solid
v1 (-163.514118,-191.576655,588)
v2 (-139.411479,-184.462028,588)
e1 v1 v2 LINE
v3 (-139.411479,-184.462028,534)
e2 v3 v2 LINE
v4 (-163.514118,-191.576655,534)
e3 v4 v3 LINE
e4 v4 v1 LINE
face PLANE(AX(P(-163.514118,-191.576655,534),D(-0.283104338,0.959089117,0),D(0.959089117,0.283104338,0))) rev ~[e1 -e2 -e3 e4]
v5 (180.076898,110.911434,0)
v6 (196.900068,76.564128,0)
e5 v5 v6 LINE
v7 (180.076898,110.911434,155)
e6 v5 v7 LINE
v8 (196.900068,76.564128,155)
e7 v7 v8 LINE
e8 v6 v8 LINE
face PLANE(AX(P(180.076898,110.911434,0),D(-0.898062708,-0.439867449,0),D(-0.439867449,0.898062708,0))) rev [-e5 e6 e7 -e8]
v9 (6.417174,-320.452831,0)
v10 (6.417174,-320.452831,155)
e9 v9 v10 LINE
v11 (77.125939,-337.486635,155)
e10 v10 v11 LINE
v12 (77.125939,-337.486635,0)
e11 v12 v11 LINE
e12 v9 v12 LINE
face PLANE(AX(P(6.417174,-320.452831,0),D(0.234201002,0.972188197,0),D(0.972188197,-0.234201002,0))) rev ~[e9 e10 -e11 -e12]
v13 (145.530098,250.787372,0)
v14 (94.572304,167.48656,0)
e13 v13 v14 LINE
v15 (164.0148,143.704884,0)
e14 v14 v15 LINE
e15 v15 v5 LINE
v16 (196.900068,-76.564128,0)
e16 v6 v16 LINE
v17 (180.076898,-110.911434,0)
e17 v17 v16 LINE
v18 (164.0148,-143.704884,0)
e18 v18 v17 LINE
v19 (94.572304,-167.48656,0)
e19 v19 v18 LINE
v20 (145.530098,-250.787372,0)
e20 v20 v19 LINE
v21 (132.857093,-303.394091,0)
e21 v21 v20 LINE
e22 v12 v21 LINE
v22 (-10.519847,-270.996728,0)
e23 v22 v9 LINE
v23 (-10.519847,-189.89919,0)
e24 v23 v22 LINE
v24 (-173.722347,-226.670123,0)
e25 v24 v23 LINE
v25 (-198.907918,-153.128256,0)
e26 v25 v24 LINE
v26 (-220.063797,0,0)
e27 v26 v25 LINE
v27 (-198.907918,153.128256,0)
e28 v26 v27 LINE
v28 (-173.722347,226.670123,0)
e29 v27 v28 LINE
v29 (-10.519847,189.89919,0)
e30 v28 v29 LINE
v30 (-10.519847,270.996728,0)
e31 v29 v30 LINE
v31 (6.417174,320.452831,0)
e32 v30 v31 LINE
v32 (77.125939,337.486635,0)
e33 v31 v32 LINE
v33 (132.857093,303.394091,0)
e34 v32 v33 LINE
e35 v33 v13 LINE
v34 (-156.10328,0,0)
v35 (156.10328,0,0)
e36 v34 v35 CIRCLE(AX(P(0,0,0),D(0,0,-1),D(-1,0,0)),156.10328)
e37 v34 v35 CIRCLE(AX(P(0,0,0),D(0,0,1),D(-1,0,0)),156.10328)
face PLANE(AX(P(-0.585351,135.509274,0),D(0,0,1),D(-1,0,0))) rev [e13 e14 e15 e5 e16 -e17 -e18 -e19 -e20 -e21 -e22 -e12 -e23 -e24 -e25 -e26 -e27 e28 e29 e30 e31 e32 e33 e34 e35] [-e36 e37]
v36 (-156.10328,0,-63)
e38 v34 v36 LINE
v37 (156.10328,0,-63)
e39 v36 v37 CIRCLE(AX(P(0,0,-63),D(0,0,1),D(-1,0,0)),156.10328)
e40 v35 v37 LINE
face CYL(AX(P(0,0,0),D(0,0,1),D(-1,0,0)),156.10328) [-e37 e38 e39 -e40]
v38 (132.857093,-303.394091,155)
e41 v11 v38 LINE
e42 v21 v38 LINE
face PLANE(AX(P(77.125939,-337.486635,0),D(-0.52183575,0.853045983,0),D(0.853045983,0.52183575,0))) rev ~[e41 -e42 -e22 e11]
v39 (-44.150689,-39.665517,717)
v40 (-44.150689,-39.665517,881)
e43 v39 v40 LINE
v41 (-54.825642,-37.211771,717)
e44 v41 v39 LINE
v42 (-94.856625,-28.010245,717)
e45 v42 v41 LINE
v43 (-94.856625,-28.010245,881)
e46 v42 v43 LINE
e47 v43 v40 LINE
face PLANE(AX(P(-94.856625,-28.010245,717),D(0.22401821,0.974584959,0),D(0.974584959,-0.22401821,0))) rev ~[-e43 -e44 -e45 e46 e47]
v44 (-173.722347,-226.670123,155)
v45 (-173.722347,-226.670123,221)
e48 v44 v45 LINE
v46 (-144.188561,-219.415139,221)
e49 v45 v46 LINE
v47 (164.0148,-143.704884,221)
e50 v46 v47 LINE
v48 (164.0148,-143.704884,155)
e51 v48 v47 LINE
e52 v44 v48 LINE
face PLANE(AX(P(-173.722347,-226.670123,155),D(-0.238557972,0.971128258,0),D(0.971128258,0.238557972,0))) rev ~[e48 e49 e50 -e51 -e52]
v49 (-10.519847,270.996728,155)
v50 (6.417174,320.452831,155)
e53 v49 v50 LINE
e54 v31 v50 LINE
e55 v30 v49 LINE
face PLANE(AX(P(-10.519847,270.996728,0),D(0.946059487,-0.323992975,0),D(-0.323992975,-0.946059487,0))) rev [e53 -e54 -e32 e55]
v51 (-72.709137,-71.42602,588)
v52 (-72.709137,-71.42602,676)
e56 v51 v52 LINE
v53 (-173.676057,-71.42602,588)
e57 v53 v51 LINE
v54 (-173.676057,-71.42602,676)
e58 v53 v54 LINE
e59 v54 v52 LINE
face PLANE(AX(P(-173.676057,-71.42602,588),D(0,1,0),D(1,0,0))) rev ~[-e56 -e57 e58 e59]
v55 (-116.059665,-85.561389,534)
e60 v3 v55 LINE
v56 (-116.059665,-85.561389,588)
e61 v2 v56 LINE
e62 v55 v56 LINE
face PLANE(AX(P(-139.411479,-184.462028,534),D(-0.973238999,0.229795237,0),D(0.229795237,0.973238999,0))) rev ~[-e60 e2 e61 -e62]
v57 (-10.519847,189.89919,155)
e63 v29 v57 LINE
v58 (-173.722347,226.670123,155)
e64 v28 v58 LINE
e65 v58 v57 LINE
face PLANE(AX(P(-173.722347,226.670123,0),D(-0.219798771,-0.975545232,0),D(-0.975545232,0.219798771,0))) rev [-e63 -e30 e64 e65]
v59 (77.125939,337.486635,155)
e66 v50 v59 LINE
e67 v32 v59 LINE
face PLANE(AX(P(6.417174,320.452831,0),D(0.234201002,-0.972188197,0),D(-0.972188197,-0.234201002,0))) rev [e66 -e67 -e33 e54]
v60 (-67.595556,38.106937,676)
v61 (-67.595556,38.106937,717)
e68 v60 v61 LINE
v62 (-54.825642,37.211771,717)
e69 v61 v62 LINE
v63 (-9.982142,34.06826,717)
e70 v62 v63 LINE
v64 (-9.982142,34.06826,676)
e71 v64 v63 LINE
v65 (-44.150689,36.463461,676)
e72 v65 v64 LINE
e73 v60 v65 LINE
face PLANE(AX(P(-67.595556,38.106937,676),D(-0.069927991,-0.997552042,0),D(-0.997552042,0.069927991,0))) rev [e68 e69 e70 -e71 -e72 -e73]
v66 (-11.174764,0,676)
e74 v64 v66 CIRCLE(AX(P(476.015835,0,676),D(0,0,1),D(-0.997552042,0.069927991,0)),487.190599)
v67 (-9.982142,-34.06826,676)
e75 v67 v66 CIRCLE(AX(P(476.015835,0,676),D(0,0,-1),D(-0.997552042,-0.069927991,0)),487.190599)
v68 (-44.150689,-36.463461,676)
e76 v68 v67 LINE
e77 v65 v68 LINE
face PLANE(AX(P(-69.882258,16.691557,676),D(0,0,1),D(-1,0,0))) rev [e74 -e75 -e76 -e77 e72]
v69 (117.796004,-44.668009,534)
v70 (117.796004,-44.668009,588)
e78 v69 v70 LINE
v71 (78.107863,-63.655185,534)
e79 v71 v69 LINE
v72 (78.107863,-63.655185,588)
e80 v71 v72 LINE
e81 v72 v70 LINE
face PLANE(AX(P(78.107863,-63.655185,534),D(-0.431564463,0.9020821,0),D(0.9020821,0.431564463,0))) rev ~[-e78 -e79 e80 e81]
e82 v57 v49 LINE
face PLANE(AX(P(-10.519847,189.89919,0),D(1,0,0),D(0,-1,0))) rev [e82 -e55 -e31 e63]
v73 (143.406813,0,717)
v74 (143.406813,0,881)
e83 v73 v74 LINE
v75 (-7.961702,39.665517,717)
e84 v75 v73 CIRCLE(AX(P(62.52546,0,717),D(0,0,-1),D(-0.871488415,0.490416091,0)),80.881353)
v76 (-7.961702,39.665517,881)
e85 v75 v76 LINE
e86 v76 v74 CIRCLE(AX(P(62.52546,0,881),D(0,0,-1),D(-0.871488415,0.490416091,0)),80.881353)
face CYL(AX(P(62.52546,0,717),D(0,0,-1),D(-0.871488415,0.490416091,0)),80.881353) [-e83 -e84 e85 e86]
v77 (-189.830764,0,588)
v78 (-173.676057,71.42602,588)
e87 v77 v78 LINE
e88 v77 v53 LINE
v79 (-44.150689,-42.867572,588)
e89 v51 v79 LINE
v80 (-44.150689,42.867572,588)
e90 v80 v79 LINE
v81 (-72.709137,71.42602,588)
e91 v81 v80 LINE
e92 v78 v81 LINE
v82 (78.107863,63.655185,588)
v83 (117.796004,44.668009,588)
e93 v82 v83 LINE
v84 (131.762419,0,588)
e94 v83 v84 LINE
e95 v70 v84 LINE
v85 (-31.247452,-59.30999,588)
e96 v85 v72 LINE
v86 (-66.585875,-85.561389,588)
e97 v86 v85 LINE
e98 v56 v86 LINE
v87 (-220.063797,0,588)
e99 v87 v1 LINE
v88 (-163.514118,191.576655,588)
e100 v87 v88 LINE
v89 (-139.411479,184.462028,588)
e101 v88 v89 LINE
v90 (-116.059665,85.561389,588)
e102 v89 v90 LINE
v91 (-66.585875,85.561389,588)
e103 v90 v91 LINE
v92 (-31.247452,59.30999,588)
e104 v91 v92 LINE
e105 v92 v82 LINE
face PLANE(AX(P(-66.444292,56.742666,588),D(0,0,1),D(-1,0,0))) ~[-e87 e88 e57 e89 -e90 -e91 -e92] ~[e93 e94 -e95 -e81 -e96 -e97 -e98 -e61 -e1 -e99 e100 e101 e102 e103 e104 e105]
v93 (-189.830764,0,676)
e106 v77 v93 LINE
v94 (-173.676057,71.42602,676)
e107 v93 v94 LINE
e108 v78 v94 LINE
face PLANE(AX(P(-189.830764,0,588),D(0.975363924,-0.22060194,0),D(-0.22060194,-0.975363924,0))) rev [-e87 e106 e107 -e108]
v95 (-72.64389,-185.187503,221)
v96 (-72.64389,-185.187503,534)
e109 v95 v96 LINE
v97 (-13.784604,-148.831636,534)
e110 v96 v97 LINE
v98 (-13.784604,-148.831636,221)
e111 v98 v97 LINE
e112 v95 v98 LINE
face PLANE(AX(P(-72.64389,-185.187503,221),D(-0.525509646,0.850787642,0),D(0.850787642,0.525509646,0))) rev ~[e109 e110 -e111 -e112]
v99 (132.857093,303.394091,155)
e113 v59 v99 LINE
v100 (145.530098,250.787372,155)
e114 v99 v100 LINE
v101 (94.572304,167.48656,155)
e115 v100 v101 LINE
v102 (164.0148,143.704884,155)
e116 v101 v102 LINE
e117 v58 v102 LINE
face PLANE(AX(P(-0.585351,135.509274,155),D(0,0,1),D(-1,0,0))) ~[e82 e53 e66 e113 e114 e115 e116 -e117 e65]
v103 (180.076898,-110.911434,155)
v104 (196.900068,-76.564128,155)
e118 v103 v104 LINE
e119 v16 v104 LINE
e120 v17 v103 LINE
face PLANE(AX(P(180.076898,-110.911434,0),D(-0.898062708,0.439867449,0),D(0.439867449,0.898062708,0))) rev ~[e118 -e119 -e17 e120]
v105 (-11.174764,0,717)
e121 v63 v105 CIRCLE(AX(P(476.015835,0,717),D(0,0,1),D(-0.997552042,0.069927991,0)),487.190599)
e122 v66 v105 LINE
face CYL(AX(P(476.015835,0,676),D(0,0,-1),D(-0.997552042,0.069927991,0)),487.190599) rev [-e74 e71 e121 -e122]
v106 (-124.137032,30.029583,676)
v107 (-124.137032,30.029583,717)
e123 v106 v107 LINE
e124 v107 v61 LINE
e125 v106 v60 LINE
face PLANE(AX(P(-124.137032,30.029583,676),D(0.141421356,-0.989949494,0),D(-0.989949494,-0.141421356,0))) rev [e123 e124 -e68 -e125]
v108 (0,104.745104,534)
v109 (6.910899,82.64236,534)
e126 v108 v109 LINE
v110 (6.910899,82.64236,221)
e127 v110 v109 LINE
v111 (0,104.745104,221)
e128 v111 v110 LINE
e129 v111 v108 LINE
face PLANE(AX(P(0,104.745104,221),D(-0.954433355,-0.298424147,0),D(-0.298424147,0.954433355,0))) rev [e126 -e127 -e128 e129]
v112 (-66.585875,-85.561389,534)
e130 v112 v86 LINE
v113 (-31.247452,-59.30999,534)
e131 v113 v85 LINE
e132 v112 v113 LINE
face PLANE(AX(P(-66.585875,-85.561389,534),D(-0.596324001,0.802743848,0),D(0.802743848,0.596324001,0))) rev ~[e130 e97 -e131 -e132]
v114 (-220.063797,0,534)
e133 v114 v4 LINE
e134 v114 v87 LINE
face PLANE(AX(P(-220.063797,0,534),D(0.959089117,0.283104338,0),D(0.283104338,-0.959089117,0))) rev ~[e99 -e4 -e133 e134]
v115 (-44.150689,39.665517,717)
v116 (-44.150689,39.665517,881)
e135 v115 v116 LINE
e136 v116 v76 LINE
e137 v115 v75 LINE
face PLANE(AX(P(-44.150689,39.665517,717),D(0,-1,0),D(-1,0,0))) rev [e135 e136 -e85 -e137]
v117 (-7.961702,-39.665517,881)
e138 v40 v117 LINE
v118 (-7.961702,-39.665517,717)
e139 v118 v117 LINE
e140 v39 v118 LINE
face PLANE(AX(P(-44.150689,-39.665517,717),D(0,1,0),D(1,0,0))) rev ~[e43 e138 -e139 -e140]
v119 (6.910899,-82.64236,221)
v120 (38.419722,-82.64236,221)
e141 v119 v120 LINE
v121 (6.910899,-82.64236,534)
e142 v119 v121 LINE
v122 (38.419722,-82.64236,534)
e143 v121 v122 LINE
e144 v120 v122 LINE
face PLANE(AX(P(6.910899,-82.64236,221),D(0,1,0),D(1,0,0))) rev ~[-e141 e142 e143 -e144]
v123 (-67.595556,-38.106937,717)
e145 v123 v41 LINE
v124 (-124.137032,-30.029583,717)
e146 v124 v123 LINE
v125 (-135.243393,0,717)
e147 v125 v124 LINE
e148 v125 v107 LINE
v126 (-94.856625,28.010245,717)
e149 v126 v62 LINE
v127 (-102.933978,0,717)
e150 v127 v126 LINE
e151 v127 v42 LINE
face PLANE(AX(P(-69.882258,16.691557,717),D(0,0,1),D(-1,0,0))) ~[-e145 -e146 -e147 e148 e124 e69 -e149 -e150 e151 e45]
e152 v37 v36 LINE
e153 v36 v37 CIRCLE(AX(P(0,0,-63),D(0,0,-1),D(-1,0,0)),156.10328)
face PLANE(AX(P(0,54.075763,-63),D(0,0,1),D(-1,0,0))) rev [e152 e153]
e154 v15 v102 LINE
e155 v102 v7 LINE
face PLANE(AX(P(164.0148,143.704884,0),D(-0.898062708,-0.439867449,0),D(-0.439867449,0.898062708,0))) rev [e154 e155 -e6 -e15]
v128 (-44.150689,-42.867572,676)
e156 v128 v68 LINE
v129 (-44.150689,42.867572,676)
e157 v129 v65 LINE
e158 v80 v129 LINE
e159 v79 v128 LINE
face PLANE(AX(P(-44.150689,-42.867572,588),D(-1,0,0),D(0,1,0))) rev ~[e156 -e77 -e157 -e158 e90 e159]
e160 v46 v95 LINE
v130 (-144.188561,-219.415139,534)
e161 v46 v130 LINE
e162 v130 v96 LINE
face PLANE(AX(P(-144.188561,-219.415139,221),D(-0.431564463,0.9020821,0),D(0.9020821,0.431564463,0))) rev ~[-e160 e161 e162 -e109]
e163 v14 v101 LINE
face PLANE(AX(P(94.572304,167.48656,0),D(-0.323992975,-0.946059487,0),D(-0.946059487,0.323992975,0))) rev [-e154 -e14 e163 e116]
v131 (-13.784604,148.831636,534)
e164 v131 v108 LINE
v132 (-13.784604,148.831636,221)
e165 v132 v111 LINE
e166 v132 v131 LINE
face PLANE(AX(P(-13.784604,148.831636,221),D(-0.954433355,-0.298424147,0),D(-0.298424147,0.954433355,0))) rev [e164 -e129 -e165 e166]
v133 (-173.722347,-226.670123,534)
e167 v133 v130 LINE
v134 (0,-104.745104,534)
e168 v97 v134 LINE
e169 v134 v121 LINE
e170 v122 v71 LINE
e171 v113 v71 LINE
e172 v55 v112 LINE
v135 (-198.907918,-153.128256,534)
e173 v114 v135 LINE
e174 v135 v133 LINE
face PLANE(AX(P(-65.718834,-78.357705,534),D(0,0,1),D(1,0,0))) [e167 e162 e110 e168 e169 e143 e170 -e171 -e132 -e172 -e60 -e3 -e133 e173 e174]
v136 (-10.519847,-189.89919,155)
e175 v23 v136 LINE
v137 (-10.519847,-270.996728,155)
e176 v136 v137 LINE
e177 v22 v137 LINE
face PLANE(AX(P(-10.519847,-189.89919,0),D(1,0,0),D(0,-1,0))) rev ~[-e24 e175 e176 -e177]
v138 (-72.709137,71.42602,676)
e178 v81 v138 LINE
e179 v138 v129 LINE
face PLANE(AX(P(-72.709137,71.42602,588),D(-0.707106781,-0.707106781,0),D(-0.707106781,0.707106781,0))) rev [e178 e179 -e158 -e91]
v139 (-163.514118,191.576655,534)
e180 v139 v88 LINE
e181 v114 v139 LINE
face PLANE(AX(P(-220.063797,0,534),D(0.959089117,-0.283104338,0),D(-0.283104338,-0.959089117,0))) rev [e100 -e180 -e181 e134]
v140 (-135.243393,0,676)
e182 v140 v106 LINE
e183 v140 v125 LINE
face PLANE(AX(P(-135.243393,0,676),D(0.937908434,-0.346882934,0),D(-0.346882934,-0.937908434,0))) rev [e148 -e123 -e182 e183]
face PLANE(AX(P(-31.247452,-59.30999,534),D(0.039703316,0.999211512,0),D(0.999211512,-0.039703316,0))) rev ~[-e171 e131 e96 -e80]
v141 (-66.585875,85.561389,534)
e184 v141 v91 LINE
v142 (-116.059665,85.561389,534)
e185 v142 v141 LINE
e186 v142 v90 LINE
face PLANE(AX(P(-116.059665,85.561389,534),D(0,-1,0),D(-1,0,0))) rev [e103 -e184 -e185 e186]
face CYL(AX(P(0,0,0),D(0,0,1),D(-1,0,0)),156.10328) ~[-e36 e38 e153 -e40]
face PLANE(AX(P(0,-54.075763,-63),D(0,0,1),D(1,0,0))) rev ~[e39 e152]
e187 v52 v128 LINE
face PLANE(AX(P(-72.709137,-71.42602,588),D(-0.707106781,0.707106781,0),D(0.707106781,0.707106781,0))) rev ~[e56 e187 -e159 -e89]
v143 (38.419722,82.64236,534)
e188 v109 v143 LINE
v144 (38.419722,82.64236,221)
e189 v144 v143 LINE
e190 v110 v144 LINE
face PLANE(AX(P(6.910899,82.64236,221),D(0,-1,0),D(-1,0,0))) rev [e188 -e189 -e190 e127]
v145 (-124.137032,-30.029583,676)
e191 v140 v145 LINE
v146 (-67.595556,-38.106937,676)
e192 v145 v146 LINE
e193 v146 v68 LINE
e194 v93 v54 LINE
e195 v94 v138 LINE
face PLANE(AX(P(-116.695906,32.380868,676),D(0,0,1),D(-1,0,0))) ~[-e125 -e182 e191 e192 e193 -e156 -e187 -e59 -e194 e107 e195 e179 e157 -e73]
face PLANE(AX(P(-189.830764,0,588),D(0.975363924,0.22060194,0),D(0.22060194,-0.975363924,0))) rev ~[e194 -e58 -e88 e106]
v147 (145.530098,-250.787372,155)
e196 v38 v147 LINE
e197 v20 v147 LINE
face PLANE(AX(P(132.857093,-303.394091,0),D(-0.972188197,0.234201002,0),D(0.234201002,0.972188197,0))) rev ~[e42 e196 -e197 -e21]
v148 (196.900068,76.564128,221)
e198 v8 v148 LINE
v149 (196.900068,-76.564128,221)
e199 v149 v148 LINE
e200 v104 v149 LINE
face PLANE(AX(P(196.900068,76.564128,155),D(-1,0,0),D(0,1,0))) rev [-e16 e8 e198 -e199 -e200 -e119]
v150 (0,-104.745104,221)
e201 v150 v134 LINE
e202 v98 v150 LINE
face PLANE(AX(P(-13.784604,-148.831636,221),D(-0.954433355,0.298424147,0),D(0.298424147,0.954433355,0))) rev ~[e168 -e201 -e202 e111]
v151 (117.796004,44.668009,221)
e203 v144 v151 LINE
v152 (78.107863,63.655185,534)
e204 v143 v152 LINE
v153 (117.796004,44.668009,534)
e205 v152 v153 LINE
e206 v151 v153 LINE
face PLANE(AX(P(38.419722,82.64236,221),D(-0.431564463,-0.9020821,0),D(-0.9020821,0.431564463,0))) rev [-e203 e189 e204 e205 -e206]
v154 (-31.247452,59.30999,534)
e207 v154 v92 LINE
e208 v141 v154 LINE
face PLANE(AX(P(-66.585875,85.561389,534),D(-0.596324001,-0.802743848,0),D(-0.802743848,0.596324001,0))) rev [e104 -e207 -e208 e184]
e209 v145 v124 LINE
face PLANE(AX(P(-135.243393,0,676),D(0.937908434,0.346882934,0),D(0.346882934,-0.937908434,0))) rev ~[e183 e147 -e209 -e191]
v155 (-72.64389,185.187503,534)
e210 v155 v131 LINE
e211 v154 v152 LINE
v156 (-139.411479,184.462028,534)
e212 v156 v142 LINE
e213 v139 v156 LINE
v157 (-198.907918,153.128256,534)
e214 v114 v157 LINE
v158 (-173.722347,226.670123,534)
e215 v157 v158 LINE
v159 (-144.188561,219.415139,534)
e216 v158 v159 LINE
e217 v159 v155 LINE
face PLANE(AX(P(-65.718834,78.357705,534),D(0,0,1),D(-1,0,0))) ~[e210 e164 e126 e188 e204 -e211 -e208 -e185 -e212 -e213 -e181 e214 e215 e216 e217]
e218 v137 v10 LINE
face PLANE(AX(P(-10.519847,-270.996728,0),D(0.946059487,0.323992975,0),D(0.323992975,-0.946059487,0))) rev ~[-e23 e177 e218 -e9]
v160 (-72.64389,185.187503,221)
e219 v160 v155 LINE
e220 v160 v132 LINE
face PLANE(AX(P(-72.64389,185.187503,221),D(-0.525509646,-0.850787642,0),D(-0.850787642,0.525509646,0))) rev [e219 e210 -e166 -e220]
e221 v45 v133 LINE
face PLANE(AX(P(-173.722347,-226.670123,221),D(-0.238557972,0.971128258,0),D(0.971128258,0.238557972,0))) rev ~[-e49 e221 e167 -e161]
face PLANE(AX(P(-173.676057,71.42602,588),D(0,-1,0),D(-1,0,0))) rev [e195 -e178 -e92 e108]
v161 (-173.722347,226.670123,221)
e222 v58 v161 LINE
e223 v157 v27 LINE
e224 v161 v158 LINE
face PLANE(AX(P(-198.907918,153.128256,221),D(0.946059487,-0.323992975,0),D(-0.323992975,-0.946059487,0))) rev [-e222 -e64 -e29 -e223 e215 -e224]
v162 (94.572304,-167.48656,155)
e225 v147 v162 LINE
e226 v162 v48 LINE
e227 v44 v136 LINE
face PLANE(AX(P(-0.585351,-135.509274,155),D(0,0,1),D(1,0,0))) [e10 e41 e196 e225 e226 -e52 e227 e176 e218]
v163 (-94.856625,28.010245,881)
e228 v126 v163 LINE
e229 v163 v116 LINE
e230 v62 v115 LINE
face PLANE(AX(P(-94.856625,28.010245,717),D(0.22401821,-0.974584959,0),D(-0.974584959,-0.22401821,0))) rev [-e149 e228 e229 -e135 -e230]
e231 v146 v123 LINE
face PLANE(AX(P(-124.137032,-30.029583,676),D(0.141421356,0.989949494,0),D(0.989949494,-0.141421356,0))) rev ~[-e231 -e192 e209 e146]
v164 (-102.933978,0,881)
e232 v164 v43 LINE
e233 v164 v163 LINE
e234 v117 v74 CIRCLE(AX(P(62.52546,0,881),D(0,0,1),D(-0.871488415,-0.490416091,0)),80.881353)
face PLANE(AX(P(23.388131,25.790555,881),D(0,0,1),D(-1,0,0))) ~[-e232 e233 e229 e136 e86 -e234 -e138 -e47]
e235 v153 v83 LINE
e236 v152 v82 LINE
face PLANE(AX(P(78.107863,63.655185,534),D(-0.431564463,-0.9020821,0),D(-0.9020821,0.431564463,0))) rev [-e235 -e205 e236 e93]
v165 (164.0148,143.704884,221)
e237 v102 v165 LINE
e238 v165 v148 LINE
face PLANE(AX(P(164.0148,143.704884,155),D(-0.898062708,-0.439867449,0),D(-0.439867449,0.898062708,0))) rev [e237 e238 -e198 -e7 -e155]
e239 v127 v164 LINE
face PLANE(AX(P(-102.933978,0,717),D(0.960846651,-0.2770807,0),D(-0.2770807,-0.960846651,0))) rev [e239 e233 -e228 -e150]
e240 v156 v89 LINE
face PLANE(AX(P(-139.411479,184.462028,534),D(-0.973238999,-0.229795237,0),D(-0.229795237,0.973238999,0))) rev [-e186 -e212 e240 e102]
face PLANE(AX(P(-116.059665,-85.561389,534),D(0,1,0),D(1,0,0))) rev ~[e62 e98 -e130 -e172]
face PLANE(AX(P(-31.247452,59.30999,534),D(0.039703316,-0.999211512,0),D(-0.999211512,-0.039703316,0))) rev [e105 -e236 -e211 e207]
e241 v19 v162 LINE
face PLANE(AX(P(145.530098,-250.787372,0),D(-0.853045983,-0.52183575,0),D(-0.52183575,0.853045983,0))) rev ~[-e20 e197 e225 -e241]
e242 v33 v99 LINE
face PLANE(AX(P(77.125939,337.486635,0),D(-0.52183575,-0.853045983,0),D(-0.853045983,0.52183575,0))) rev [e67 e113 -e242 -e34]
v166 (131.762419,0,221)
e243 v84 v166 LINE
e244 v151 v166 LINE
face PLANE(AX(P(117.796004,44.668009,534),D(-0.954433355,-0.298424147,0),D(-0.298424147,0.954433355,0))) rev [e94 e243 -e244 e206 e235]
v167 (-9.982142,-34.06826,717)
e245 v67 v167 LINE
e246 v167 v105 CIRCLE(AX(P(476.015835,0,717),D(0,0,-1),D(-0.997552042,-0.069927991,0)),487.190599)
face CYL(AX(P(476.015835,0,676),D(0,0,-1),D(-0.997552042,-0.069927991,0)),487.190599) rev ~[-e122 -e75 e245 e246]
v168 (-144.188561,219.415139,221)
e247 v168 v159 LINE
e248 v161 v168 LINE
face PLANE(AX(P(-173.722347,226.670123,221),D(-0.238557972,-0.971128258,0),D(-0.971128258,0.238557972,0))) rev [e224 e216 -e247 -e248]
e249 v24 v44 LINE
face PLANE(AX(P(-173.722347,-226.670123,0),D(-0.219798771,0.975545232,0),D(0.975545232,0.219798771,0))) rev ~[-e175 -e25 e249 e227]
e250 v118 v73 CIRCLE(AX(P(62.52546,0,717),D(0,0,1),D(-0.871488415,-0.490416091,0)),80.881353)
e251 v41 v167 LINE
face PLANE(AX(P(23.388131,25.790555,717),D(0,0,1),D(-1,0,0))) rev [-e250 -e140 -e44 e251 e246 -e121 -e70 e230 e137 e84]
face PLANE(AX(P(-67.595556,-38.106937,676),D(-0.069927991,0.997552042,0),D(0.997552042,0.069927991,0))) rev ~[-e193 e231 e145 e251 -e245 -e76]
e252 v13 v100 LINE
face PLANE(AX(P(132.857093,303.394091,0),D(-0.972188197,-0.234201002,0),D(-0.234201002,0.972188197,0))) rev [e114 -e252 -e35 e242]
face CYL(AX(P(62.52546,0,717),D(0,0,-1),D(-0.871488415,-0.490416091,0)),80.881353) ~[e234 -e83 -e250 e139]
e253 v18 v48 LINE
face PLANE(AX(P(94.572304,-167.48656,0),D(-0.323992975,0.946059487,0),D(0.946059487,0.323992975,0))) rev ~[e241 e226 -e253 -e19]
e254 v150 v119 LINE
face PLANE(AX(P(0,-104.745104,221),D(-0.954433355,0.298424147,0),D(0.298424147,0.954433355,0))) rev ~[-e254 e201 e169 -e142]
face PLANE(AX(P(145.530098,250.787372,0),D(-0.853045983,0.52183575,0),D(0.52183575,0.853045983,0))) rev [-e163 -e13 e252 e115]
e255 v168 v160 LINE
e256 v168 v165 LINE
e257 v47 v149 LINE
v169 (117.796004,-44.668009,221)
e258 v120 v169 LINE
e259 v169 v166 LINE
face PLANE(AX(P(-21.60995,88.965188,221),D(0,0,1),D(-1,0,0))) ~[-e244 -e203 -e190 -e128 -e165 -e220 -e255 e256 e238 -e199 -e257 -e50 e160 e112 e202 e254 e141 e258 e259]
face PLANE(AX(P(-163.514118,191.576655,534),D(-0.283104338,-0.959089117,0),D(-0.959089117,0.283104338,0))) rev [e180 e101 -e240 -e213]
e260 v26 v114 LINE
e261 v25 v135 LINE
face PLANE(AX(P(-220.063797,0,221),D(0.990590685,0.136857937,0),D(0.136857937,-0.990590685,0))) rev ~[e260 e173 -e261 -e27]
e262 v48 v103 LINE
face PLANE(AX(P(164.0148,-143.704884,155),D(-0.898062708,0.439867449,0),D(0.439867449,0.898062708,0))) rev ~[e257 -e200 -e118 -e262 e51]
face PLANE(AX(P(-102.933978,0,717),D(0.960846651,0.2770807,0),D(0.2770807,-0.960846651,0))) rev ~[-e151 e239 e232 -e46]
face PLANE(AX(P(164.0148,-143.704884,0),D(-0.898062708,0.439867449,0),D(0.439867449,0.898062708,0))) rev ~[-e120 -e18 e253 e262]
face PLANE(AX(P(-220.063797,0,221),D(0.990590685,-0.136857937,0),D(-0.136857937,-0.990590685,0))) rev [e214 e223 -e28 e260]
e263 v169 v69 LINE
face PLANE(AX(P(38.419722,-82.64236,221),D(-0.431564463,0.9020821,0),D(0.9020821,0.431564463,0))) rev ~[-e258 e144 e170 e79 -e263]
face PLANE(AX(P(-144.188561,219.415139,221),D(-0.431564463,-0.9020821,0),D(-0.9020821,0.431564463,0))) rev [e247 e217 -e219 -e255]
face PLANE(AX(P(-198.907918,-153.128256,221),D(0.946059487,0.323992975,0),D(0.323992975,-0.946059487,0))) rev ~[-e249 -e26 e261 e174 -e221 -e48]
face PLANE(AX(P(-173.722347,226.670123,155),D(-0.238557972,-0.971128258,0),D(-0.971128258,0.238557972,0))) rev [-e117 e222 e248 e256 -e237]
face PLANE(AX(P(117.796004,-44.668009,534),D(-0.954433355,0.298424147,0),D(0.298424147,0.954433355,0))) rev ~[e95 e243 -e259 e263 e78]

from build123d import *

# Parameters (mm, degrees)
BOSS_EXTRUDE1_DEPTH = 155
BOSS_EXTRUDE2_DEPTH = 66
BOSS_EXTRUDE3_DEPTH = 313
BOSS_EXTRUDE4_DEPTH = 54
BOSS_EXTRUDE5_DEPTH = 88
BOSS_EXTRUDE6_DEPTH = 41
BOSS_EXTRUDE7_DEPTH = 164
BOSS_EXTRUDE8_DEPTH = 63


with BuildPart() as part:
    # Sketch1 → Boss-Extrude1 (new body)
    with BuildSketch(Plane.XY):
        Polygon((-220.063797357, 0), (-198.907917785, -153.12825629), (-173.722346865, -226.670123376), (-10.519847306, -189.899189833), (-10.519847306, -270.996728194), (6.417174186, -320.452830951), (77.125939495, -337.486635422), (132.857093021, -303.394090716), (145.53009844, -250.787371679), (94.572304418, -167.486560125), (164.014799865, -143.704883603), (180.076897751, -110.911433751), (196.900067844, -76.564128145), (196.900067844, 0), align=None)
    boss_extrude1 = extrude(amount=BOSS_EXTRUDE1_DEPTH)

    # Sketch2 → Boss-Extrude2 (add)
    with BuildSketch(Plane.XY.offset(155)):
        Polygon((-220.063797357, 0), (-198.907917785, -153.12825629), (-173.722346865, -226.670123376), (164.014799865, -143.704883603), (196.900067844, -76.564128145), (196.900067844, 0), align=None)
    boss_extrude2 = extrude(amount=BOSS_EXTRUDE2_DEPTH)

    # Sketch3 → Boss-Extrude3 (add)
    with BuildSketch(Plane.XY.offset(221)):
        Polygon((-220.063797357, 0), (-198.907917785, -153.12825629), (-173.722346865, -226.670123376), (-144.188560723, -219.415139219), (-72.64388975, -185.187503489), (-13.784604036, -148.831636487), (0, -104.745103877), (6.910898911, -82.642360162), (38.419722404, -82.642360162), (117.796003981, -44.66800911), (131.76241917, 0), align=None)
    boss_extrude3 = extrude(amount=BOSS_EXTRUDE3_DEPTH)

    # Sketch4 → Boss-Extrude4 (add)
    with BuildSketch(Plane.XY.offset(534)):
        Polygon((-220.063797357, 0), (-163.514117876, -191.576655197), (-139.411479093, -184.462027915), (-116.05966541, -85.56138905), (-66.585874541, -85.56138905), (-31.247452492, -59.309989814), (78.107863193, -63.655184636), (117.796003981, -44.66800911), (131.76241917, 0), align=None)
    boss_extrude4 = extrude(amount=BOSS_EXTRUDE4_DEPTH)

    # Sketch5 → Boss-Extrude5 (add)
    with BuildSketch(Plane.XY.offset(588)):
        Polygon((-189.830764245, 0), (-173.676057022, -71.426020231), (-72.709136882, -71.426020231), (-44.150689094, -42.867572442), (-44.150689094, 0), align=None)
    boss_extrude5 = extrude(amount=BOSS_EXTRUDE5_DEPTH)

    # Sketch6 → Boss-Extrude6 (add)
    with BuildSketch(Plane.XY.offset(676)):
        with BuildLine():
            Line((-135.243392737, 0), (-124.137031521, -30.029582973))
            Line((-124.137031521, -30.029582973), (-67.595556243, -38.106936584))
            Line((-67.595556243, -38.106936584), (-9.982142183, -34.068259779))
            ThreePointArc((-9.982142183, -34.068259779), (-10.876517561, -17.044564178), (-11.174764407, 0))
            Line((-11.174764407, 0), (-135.243392737, 0))
        make_face()
    boss_extrude6 = extrude(amount=BOSS_EXTRUDE6_DEPTH)

    # Sketch7 → Boss-Extrude7 (add)
    with BuildSketch(Plane.XY.offset(717)):
        with BuildLine():
            Line((-102.933978292, 0), (-94.85662468, -28.01024457))
            Line((-94.85662468, -28.01024457), (-44.150689094, -39.665516705))
            Line((-44.150689094, -39.665516705), (-7.961701602, -39.665516705))
            ThreePointArc((-7.961701602, -39.665516705), (83.027852783, -78.239664369), (143.40681265, 0))
            Line((143.40681265, 0), (-7.961701602, 0))
            Line((-7.961701602, 0), (-102.933978292, 0))
        make_face()
    boss_extrude7 = extrude(amount=BOSS_EXTRUDE7_DEPTH)

    # Sketch8 → Boss-Extrude8 (add)
    with BuildSketch(Plane(origin=(0, 0, 0), x_dir=(-1, 0, 0), z_dir=(0, 0, -1))):
        with BuildLine():
            Line((-156.103280221, 0), (156.103280221, 0))
            ThreePointArc((156.103280221, 0), (0, -156.103280221), (-156.103280221, 0))
        make_face()
    boss_extrude8 = extrude(amount=BOSS_EXTRUDE8_DEPTH)

    # Mirror1: Boss-Extrude1, Boss-Extrude2, Boss-Extrude3, Boss-Extrude4, Boss-Extrude5, Boss-Extrude6, Boss-Extrude7, Boss-Extrude8 across plane
    add(boss_extrude1.mirror(Plane(origin=(196.900067844, 0, 155), x_dir=(0, 0, 1), z_dir=(0, -1, 0))))
    add(boss_extrude2.mirror(Plane(origin=(196.900067844, 0, 155), x_dir=(0, 0, 1), z_dir=(0, -1, 0))))
    add(boss_extrude3.mirror(Plane(origin=(196.900067844, 0, 155), x_dir=(0, 0, 1), z_dir=(0, -1, 0))))
    add(boss_extrude4.mirror(Plane(origin=(196.900067844, 0, 155), x_dir=(0, 0, 1), z_dir=(0, -1, 0))))
    add(boss_extrude5.mirror(Plane(origin=(196.900067844, 0, 155), x_dir=(0, 0, 1), z_dir=(0, -1, 0))))
    add(boss_extrude6.mirror(Plane(origin=(196.900067844, 0, 155), x_dir=(0, 0, 1), z_dir=(0, -1, 0))))
    add(boss_extrude7.mirror(Plane(origin=(196.900067844, 0, 155), x_dir=(0, 0, 1), z_dir=(0, -1, 0))))
    add(boss_extrude8.mirror(Plane(origin=(196.900067844, 0, 155), x_dir=(0, 0, 1), z_dir=(0, -1, 0))))


solid = part.part
